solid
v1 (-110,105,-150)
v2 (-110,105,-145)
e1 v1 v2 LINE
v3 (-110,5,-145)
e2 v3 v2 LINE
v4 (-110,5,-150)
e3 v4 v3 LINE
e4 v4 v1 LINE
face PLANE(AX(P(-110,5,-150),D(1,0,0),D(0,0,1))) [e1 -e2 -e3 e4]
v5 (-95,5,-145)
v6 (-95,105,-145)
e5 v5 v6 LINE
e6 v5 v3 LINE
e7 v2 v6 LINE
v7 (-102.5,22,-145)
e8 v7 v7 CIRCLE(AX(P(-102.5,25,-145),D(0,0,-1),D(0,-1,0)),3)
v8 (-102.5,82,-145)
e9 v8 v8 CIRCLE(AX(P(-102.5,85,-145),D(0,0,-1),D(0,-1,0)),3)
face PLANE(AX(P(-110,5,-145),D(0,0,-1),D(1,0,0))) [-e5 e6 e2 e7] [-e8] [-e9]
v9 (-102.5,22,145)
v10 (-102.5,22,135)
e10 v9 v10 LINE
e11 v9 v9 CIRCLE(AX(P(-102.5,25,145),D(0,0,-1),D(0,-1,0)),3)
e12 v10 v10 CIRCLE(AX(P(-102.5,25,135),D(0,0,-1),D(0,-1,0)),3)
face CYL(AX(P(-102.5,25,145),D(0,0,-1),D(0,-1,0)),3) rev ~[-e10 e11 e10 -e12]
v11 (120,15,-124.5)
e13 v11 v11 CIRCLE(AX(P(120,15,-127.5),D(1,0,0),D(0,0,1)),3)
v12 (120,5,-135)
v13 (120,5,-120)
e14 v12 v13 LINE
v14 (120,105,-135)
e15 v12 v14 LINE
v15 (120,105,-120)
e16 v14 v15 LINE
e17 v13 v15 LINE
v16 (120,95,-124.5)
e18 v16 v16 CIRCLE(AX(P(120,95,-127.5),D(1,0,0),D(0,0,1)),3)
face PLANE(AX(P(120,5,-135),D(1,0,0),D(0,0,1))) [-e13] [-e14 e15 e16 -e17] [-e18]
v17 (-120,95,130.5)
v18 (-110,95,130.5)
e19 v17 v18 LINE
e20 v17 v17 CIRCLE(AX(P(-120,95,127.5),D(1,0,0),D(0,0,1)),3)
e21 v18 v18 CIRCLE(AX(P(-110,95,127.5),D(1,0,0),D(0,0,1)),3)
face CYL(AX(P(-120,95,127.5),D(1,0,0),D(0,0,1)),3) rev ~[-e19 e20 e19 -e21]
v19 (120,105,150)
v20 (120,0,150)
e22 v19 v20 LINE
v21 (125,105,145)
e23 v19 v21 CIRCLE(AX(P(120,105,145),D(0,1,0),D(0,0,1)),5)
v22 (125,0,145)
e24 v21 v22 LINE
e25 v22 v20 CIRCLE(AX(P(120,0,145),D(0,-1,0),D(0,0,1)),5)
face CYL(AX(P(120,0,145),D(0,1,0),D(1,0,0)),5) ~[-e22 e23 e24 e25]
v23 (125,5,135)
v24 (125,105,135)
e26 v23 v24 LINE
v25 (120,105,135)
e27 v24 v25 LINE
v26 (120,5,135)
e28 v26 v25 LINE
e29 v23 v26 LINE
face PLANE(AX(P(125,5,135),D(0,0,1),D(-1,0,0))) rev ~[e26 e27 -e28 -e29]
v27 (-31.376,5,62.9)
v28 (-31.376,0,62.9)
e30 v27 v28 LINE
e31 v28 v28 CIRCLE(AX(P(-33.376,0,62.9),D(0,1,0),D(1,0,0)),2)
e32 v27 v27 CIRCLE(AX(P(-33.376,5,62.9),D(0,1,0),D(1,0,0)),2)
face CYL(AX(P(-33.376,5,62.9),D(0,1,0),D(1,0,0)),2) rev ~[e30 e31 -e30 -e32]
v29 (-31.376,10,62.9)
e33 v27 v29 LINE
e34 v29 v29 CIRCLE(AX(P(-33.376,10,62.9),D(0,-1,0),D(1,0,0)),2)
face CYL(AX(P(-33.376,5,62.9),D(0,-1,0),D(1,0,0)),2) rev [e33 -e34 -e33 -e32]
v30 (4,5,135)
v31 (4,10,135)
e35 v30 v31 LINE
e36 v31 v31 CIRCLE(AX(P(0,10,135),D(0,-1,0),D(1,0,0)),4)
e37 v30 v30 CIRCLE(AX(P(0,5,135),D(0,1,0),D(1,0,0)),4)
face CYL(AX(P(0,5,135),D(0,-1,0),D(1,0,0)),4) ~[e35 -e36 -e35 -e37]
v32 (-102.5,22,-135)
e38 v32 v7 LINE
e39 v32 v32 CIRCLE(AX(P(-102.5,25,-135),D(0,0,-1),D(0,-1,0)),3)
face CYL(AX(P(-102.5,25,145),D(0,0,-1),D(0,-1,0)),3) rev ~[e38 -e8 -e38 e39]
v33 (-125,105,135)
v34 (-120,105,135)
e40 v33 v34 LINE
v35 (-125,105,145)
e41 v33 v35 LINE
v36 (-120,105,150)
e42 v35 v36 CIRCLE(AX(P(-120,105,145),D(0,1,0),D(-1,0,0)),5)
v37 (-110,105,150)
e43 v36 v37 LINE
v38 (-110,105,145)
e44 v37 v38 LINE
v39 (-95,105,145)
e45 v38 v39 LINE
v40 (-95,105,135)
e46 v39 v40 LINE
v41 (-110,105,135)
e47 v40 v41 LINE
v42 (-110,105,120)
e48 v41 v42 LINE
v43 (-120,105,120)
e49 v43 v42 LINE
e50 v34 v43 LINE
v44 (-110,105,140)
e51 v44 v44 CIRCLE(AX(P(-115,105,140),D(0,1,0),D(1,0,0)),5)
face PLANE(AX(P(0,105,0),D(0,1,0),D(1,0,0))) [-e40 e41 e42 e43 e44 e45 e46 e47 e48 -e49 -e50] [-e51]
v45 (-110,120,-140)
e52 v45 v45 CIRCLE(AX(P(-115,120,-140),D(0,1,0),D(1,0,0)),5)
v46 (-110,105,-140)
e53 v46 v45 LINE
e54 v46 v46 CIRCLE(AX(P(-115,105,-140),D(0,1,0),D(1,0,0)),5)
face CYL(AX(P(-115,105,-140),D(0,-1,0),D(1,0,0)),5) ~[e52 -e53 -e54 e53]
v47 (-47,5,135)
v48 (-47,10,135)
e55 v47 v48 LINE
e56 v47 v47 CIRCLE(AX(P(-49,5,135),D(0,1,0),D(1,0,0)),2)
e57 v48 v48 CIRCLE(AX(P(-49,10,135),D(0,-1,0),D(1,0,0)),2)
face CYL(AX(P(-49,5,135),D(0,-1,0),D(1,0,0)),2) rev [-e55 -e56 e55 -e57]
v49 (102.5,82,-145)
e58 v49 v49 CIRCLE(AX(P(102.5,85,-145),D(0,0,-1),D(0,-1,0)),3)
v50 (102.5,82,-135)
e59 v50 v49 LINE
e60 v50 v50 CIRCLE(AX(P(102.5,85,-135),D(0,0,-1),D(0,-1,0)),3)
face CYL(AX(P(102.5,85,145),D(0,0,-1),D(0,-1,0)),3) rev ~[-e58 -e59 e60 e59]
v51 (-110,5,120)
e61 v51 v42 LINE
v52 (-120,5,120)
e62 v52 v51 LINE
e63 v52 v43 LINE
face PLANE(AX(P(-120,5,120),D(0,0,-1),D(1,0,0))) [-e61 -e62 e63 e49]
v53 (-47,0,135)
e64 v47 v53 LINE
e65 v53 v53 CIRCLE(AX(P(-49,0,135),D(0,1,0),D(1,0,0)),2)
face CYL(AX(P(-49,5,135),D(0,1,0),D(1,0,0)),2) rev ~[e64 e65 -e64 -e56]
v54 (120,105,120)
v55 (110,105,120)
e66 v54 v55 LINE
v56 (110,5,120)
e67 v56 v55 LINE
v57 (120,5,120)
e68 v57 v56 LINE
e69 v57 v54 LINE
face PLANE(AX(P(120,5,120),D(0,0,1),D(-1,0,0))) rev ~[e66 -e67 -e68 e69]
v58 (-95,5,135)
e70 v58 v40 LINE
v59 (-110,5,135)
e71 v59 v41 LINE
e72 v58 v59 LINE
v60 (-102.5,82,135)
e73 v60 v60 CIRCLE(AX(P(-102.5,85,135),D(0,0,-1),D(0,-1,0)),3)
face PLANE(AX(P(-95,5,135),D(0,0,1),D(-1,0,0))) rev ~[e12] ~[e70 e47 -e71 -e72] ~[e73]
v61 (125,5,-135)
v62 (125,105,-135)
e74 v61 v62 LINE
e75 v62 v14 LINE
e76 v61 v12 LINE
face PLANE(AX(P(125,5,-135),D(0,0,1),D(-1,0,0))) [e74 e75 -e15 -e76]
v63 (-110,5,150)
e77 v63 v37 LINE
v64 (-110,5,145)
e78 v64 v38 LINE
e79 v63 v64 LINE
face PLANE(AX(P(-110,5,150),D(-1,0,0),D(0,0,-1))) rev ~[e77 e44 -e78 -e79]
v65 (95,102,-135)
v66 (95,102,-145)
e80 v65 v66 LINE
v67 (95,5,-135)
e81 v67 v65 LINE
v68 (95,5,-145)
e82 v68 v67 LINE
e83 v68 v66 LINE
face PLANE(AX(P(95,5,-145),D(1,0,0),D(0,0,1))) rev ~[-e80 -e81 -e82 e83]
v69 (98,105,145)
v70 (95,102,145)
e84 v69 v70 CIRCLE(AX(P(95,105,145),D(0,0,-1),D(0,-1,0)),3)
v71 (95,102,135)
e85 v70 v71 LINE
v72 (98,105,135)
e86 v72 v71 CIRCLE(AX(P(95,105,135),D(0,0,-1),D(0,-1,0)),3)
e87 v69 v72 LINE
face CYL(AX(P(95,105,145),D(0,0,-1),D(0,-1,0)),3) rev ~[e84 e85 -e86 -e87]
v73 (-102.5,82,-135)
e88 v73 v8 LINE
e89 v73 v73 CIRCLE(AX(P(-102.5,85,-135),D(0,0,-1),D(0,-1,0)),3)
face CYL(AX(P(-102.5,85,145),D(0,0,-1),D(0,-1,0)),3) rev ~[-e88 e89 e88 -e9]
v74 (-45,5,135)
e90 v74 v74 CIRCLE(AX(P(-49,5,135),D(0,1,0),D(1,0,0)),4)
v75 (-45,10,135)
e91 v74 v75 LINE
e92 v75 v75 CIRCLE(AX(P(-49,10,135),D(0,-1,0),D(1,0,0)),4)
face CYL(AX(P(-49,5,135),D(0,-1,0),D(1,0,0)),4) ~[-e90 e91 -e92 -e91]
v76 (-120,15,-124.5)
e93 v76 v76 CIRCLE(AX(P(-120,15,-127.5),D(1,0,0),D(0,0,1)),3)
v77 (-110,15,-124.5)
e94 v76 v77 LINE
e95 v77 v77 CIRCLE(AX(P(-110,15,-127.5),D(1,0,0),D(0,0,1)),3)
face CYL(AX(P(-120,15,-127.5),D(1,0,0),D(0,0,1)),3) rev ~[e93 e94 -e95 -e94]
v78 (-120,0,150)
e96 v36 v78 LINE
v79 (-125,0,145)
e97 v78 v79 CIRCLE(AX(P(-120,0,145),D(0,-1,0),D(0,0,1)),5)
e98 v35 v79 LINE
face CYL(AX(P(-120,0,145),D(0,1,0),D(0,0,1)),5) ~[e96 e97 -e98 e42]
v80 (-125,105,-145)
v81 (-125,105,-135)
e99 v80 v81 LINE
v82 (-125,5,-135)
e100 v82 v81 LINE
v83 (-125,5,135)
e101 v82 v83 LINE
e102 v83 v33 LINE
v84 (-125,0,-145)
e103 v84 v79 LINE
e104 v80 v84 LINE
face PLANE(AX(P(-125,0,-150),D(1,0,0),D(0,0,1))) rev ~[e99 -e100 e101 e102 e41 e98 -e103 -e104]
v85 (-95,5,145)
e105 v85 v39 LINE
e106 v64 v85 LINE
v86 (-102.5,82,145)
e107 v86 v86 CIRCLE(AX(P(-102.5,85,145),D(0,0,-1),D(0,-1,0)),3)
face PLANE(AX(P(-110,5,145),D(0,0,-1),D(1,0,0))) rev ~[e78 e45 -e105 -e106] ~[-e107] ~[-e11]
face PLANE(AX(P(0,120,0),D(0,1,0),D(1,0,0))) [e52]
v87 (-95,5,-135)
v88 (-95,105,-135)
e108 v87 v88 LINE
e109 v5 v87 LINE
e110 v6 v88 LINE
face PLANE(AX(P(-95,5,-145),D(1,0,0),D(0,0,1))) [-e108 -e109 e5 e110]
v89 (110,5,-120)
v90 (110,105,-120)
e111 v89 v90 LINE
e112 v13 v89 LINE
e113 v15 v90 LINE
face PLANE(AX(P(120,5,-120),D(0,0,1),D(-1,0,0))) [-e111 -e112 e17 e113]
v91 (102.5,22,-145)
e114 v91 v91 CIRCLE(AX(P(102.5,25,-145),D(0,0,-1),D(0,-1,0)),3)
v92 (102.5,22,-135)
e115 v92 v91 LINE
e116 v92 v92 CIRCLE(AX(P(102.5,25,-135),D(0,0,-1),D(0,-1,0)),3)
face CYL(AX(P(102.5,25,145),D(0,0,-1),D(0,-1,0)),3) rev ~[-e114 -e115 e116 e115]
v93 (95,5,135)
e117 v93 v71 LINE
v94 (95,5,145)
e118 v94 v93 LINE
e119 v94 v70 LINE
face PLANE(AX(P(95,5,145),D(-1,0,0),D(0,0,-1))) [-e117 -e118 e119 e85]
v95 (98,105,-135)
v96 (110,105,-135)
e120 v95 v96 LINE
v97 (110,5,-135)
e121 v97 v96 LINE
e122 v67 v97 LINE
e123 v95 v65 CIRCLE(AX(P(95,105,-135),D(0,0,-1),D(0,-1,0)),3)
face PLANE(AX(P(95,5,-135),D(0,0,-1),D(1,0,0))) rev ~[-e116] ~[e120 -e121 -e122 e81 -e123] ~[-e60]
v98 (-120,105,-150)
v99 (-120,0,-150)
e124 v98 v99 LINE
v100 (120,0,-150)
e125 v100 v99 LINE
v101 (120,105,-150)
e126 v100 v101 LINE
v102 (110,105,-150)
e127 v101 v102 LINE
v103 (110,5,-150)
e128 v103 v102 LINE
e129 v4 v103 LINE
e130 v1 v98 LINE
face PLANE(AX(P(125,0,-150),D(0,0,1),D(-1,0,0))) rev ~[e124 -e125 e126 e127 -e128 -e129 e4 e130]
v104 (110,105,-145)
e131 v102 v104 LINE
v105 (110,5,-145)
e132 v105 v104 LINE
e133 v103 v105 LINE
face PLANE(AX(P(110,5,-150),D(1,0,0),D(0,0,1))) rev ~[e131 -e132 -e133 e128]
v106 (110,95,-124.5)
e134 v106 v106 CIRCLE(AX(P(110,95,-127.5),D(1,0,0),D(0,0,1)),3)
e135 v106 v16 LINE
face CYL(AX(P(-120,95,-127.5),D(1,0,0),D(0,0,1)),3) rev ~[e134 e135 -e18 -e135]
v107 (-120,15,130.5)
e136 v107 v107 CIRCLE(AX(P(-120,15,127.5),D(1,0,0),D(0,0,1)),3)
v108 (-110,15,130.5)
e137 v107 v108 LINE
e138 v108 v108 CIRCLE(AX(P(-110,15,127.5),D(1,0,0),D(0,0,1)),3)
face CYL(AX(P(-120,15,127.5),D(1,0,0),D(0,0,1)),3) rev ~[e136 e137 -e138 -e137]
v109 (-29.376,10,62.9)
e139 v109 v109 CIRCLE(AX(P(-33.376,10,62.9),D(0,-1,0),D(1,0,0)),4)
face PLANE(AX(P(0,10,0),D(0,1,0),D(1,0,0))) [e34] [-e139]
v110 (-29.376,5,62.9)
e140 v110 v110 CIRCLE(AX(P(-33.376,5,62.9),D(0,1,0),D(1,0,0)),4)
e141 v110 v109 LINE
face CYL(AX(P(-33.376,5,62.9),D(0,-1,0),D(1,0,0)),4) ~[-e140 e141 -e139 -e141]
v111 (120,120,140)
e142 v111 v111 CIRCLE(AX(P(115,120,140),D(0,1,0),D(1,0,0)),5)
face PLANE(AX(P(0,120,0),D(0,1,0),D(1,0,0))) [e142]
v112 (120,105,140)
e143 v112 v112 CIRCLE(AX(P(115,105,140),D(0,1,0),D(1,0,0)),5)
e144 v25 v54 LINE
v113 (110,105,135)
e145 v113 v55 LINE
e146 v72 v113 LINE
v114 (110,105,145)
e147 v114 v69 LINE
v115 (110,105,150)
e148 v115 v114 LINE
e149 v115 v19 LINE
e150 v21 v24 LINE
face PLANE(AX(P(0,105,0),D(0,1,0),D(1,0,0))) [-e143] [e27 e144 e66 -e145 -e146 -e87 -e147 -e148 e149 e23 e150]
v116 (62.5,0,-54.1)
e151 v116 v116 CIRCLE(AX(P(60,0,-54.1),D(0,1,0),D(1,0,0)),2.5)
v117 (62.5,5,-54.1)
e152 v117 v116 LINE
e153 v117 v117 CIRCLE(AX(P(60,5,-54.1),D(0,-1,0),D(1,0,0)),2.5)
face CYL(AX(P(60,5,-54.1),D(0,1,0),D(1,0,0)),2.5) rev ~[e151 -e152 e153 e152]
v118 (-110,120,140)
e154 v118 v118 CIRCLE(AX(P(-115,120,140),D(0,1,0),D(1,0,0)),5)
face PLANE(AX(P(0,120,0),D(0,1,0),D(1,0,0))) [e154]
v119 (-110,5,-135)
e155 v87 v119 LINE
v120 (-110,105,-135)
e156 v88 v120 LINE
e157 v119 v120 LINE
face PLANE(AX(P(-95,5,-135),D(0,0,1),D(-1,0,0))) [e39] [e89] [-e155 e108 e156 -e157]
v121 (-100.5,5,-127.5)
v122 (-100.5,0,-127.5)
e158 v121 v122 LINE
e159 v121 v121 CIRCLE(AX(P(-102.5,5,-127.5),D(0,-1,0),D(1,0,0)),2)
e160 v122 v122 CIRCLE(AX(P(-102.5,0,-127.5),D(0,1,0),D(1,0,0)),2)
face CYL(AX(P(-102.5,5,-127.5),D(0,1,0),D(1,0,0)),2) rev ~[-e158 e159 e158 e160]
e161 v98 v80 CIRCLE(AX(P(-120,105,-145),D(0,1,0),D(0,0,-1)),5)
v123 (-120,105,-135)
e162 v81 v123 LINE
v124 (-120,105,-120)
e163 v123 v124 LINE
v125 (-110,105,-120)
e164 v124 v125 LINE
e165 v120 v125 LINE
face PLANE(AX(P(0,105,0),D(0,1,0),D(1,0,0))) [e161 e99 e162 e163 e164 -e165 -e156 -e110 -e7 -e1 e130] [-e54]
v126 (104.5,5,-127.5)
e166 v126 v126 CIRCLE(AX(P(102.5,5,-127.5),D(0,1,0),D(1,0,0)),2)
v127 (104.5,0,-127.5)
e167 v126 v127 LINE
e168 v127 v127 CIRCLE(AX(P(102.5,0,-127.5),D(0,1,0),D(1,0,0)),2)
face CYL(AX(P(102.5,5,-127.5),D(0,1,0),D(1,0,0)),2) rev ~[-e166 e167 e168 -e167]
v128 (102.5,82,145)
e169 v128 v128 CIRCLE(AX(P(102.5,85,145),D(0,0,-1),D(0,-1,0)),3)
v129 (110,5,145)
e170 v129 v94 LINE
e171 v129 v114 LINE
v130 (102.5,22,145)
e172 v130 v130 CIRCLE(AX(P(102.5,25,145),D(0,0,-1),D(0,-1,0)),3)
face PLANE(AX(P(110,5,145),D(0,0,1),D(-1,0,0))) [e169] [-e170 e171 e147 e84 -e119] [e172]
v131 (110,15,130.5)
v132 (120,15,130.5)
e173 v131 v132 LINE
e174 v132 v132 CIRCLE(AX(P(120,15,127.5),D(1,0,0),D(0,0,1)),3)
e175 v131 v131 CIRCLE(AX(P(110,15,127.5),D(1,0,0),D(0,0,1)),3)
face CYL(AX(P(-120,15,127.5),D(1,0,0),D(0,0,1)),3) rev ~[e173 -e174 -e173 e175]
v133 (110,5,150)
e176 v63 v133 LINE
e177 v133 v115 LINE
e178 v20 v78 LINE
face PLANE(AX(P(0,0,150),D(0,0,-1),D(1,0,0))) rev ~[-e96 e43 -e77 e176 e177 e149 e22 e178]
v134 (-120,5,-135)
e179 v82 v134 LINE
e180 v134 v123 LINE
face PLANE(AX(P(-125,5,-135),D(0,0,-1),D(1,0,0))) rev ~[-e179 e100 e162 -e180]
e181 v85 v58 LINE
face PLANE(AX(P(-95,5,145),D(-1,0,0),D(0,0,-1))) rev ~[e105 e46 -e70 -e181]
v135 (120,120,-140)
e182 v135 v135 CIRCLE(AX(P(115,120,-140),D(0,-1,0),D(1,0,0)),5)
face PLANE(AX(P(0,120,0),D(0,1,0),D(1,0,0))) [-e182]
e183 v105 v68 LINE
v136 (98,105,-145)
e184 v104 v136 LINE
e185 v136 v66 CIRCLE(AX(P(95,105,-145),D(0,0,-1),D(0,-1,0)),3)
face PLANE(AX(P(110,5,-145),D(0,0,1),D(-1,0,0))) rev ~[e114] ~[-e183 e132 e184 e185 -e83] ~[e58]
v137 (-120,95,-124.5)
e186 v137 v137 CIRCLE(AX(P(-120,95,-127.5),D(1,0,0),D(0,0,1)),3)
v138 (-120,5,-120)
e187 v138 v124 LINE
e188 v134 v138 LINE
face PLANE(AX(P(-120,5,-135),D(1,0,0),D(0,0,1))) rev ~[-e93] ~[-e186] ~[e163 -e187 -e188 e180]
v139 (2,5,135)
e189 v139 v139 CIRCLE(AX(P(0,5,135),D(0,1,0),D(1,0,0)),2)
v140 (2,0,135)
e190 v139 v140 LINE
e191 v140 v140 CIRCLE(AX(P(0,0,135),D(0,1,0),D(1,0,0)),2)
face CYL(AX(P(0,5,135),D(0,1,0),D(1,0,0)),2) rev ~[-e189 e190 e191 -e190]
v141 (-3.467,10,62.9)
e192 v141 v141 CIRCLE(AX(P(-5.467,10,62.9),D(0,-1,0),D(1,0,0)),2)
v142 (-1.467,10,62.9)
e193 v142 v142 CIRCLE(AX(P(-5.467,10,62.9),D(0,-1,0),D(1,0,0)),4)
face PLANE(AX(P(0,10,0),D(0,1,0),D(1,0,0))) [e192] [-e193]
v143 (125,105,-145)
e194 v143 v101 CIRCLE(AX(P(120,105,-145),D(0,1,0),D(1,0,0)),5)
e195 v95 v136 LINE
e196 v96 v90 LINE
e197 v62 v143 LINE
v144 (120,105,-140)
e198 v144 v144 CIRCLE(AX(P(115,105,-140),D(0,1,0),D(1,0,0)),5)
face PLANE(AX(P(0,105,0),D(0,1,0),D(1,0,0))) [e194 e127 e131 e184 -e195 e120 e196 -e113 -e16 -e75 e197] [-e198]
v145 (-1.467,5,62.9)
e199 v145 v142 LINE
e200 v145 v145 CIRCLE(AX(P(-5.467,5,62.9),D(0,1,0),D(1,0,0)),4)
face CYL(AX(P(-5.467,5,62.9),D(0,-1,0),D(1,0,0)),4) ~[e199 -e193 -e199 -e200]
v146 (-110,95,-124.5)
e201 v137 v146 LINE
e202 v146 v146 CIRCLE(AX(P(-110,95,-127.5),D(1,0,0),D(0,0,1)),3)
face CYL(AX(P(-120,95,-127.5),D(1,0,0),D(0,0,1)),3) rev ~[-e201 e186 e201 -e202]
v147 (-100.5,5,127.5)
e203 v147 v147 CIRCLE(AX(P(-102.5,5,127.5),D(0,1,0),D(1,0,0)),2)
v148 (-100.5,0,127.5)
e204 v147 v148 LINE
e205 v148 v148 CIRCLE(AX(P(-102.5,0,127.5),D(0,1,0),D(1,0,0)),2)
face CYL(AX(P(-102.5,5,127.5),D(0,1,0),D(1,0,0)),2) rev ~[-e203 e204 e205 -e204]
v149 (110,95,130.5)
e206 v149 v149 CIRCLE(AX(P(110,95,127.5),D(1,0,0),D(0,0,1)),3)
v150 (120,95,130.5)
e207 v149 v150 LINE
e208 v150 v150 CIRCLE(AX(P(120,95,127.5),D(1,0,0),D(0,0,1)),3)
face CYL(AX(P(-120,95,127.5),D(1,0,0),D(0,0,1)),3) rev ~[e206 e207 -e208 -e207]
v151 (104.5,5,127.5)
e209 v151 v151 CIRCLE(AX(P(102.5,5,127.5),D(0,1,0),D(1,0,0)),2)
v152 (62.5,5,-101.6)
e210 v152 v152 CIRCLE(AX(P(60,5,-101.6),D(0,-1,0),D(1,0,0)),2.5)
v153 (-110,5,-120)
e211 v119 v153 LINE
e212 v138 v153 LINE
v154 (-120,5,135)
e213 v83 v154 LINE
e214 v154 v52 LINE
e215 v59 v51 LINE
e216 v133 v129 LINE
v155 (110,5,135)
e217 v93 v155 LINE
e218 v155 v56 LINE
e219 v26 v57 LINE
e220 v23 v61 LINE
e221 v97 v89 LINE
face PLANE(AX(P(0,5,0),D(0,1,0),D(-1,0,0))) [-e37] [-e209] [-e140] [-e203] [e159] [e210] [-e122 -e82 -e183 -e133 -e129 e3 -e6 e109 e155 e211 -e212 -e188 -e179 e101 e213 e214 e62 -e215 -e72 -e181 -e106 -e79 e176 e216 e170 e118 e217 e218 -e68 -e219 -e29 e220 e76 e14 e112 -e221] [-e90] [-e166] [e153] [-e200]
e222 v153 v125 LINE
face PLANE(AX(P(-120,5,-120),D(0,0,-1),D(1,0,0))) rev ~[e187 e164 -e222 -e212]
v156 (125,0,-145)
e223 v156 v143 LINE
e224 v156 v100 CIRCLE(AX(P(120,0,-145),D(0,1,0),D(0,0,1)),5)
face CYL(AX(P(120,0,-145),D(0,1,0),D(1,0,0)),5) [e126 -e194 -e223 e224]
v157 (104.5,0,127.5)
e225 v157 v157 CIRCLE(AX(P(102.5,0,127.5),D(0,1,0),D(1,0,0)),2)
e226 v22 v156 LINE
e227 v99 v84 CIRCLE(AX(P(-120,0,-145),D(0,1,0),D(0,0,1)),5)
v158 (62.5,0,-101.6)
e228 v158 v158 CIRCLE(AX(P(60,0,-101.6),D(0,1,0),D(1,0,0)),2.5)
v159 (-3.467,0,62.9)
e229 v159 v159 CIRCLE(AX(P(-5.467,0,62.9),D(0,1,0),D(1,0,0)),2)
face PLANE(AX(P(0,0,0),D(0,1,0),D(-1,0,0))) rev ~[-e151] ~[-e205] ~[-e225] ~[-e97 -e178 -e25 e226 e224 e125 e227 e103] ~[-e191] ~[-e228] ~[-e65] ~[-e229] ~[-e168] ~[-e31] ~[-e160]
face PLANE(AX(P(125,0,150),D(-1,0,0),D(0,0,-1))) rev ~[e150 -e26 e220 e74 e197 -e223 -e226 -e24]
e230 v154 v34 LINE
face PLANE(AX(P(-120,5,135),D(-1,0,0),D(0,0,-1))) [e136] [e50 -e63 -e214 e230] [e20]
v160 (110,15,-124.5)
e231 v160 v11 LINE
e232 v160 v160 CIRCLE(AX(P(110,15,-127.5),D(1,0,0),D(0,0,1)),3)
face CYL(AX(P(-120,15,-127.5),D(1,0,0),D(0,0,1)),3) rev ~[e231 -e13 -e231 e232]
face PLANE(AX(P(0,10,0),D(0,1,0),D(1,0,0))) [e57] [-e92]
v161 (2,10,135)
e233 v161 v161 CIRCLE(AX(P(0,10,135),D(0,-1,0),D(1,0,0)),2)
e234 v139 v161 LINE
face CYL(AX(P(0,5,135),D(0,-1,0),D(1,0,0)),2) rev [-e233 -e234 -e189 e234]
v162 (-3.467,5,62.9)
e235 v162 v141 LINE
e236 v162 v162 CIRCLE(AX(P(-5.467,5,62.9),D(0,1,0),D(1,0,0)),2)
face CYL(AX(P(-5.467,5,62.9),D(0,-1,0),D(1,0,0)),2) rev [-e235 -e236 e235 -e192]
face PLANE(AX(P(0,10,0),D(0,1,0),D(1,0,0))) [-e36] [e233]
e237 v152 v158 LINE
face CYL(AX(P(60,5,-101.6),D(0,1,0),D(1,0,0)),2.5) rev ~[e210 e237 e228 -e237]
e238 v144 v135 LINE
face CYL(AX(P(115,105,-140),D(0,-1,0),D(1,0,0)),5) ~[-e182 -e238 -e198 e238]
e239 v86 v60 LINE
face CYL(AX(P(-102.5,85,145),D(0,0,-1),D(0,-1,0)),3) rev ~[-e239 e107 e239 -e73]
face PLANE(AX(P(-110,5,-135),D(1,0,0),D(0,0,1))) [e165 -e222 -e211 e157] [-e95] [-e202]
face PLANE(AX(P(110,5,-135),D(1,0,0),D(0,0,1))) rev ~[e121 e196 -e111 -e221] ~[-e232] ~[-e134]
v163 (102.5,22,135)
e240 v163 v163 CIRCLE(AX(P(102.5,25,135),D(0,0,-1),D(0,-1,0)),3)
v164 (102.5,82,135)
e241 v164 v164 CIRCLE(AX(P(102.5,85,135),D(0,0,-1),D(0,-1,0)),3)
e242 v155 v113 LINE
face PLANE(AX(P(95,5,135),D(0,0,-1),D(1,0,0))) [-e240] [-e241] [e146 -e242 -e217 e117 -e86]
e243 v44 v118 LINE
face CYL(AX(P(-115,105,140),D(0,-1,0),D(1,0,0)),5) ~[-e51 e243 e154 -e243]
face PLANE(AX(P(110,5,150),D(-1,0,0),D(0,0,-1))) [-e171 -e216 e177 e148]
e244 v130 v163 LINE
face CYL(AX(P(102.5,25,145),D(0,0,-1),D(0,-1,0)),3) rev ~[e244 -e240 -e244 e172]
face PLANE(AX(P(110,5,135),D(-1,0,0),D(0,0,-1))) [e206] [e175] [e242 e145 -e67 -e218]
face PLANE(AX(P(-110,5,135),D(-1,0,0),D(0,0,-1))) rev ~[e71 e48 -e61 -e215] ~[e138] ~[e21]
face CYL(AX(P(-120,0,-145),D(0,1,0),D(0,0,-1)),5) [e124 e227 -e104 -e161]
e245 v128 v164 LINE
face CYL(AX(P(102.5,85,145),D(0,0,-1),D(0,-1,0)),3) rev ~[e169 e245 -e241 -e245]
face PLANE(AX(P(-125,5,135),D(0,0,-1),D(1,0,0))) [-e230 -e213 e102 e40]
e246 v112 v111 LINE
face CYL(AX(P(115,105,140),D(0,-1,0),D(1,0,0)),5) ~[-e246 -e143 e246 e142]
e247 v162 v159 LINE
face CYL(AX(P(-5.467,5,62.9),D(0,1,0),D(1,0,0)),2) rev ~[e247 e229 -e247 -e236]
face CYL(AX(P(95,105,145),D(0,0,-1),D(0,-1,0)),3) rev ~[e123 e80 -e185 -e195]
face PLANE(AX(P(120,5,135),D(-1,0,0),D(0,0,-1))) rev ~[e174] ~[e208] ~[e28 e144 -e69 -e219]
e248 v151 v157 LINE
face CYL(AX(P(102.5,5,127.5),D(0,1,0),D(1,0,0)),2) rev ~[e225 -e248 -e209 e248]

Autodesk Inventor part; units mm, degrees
ref_plane "YZ Plane" through (0, 0, 0) normal (1, 0, 0) x (0, 1, 0)
ref_plane "XZ Plane" through (0, 0, 0) normal (0, 1, 0) x (-1, 0, 0)
ref_plane "XY Plane" through (0, 0, 0) normal (0, 0, 1) x (1, 0, 0)
sketch "Sketch1" plane through (0, 0, 0) normal (0, 1, 0) x (-1, 0, 0)
  line L0 (0, 0) -> (0, 150)
  line L1 (0, 150) -> (0, -150)
  line L2 (0, -150) -> (125, -150)
  line L3 (125, -150) -> (125, 150)
  line L4 (125, 150) -> (-125, 150)
  line L5 (-125, 150) -> (-125, -150)
  line L6 (-125, -150) -> (0, -150)
  dimension "d0" = 150
  dimension "d1" = 300
  dimension "d2" = 125
  dimension "d3" = 300
  dimension "d4" = 250
  dimension "d5" = 300
extrude "Extrusion1" add sketch "Sketch1" along normal blind 5
fillet "Fillet1" radius 5 1 edges at (125, 2.5, 150)
fillet "Fillet2" radius 5 3 edges at (125, 2.5, -150) (-125, 2.5, -150) (-125, 2.5, 150)
sketch "Sketch2" plane through (0, 5, 0) normal (0, 1, 0) x (1, 0, 0)
  line L0 (120, 150) -> (-120, 150) projected
  line L1 (-120, 150) -> (-110, 150)
  line L2 (-110, 150) -> (-110, 145)
  line L3 (-110, 145) -> (-101.6, 145)
  arc A0 (-120, 150) -> (-125, 145) centre (-120, 145) ccw projected
  line L4 (-125, 145) -> (-125, 135)
  line L5 (-125, 145) -> (-125, -145) projected
  line L6 (-125, 135) -> (-120, 135)
  line L7 (-120, 135) -> (-120, 120)
  line L8 (-110, 145) -> (-95, 145)
  arc A1 (-120, 150) -> (-125, 145) centre (-120, 145) ccw
  line L9 (125, -145) -> (125, 145) projected
  line L10 (125, 0) -> (-125, 0)
  line L11 (0, 150) -> (0, -150)
  line L12 (-120, -150) -> (120, -150) projected
  line L13 (-95, 145) -> (-95, 135)
  line L14 (-120, 120) -> (-110, 120)
  line L15 (-95, 135) -> (-110, 135)
  line L16 (-110, 135) -> (-110, 120)
  line L17 (-120, -150) -> (-110, -150)
  line L18 (-110, -150) -> (-110, -145)
  line L19 (-125, -145) -> (-125, -135)
  line L20 (-125, -135) -> (-120, -135)
  line L21 (-120, -135) -> (-120, -120)
  line L22 (-110, -145) -> (-95, -145)
  arc A2 (-125, -145) -> (-120, -150) centre (-120, -145) ccw
  line L23 (-95, -145) -> (-95, -135)
  line L24 (-120, -120) -> (-110, -120)
  line L25 (-95, -135) -> (-110, -135)
  line L26 (-110, -135) -> (-110, -120)
  line L27 (-120, 150) -> (120, 150)
  line L28 (110, 150) -> (110, 145)
  line L29 (125, 145) -> (125, -145)
  line L30 (125, 135) -> (120, 135)
  line L31 (120, 135) -> (120, 120)
  line L32 (110, 145) -> (95, 145)
  arc A3 (125, 145) -> (120, 150) centre (120, 145) ccw
  line L33 (120, -150) -> (-120, -150)
  line L34 (95, 145) -> (95, 135)
  line L35 (120, 120) -> (110, 120)
  line L36 (95, 135) -> (110, 135)
  line L37 (110, 135) -> (110, 120)
  line L38 (95, -135) -> (110, -135)
  line L39 (95, -145) -> (95, -135)
  line L40 (110, -150) -> (110, -145)
  line L41 (120, -150) -> (110, -150)
  arc A4 (120, -150) -> (125, -145) centre (120, -145) ccw
  line L42 (125, -135) -> (120, -135)
  line L43 (120, -135) -> (120, -120)
  line L44 (120, -120) -> (110, -120)
  line L45 (110, -135) -> (110, -120)
  line L46 (110, -145) -> (95, -145)
  point P0 (0, 0)
  point P1 (-101.6, -145)
  dimension "d10" = 10
  dimension "d11" = 5
  dimension "d12" = 10
  dimension "d13" = 5
  dimension "d14" = 15
  dimension "d15" = 15
  dimension "d17" = 10
  dimension "d18" = 10
extrude "Extrusion2" add sketch "Sketch2" along normal blind 100 contours A3 L9 L30 L31 L35 L37 L36 L34 L32 L28 L0 | L2 L3 L8 L13 L15 L16 L14 L7 L6 L4 A0 L0 | L9 A4 L12 L40 L46 L39 L38 L45 L44 L43 L42 | L20 L21 L24 L26 L25 L23 L22 L18 L12 A2 L5
sketch "Sketch3" plane through (0, 105, 0) normal (0, 1, 0) x (1, 0, 0)
  line L0 (120, 150) -> (-120, 150) projected
  line L1 (0, 150) -> (0, -150)
  line L2 (-120, -150) -> (120, -150) projected
  line L3 (0, 0) -> (125, 0)
  line L4 (125, -135) -> (125, 135) projected
  line L5 (0, 0) -> (-125, 0)
  line L6 (-125, 135) -> (-125, -135) projected
  line L7 (95, 145) -> (95, 135) projected
  line L8 (95, 145) -> (95, 140)
  line L9 (95, 140) -> (125, 140)
  line L10 (110, 120) -> (120, 120) projected
  line L11 (120, 120) -> (115, 120)
  line L12 (115, 120) -> (115, 140)
  circle A0 centre (115, 140) radius 5
  circle A1 centre (115, -140) radius 5
  circle A2 centre (-115, 140) radius 5
  circle A3 centre (-115, -140) radius 5
extrude "Extrusion3" add sketch "Sketch3" along normal blind 15
sketch "Sketch4" plane through (-120, 5, -135) normal (-1, 0, 0) x (0, 0, 1)
  line L0 (15, 100) -> (0, 100) projected
  line L1 (0, 100) -> (7.5, 100)
  line L2 (7.5, 100) -> (7.5, 90)
  line L3 (7.5, 90) -> (7.5, 10)
  point P0 (135, -5)
  dimension "d23" = 7.5
  dimension "d24" = 10
  dimension "d25" = 80
hole "Hole1" at (-120, 95, -127.5) at (-120, 15, -127.5) direction (1, 0, 0) diameter 6 end through all
sketch "Sketch5" plane through (-120, 5, 120) normal (-1, 0, 0) x (0, 0, 1)
  line L0 (15, 100) -> (0, 100) projected
  line L1 (0, 100) -> (7.5, 100)
  line L2 (7.5, 100) -> (7.5, 90)
  line L3 (7.5, 90) -> (7.5, 10)
  point P0 (-120, -5)
  dimension "d35" = 10
  dimension "d36" = 80
hole "Hole2" at (-120, 95, 127.5) at (-120, 15, 127.5) direction (1, 0, 0) diameter 6 end through all
sketch "Sketch6" plane through (-110, 5, 145) normal (0, 0, 1) x (1, 0, 0)
  line L0 (0, 0) -> (0, 100) projected
  line L1 (0, 100) -> (7.5, 100)
  line L2 (15, 100) -> (0, 100) projected
  line L3 (7.5, 100) -> (7.5, 80)
  line L4 (7.5, 80) -> (7.5, 20)
  line L5 (220, 0) -> (220, 100) projected
  line L6 (220, 100) -> (212.5, 100)
  line L7 (205, 100) -> (220, 100) projected
  line L8 (212.5, 100) -> (212.5, 80)
  line L9 (212.5, 80) -> (212.5, 20)
  point P0 (110, -5)
  dimension "d44" = 20
  dimension "d45" = 60
hole "Hole3" at (-102.5, 85, 145) at (-102.5, 25, 145) direction (0, 0, -1) diameter 6 end through all
sketch "Sketch7" plane through (95, 5, 145) normal (0, 0, 1) x (1, 0, 0)
  line L0 (0, 100) -> (7.5, 100)
  line L1 (0, 100) -> (15, 100) projected
  line L2 (7.5, 100) -> (7.5, 80)
  line L3 (7.5, 80) -> (7.5, 20)
  point P0 (-95, -5)
  dimension "d53" = 20
  dimension "d54" = 60
hole "Hole4" at (95, 105, 145) at (102.5, 85, 145) at (102.5, 25, 145) direction (0, 0, -1) diameter 6 end through all
sketch "Sketch8" plane through (0, 5, 0) normal (0, 1, 0) x (1, 0, 0)
  line L0 (-120, -150) -> (120, -150) projected
  line L1 (0, -150) -> (0, -135)
  line L2 (0, -135) -> (80.9625, -135)
  line L3 (80.9625, -135) -> (-82.55, -135)
  line L4 (0, -135) -> (-49, -135)
  line L5 (-49, -135) -> (-49, -62.9)
  line L6 (0, -135) -> (0, -62.9)
  line L7 (-49, -62.9) -> (-33.376, -62.9)
  line L8 (-33.376, -62.9) -> (-5.467, -62.9)
  line L9 (-5.467, -62.9) -> (0, -62.9)
  circle A0 centre (0, -135) radius 2
  circle A1 centre (-49, -135) radius 2
  circle A2 centre (-5.467, -62.9) radius 2
  circle A3 centre (-33.376, -62.9) radius 2
  circle A4 centre (-5.467, -62.9) radius 4
  circle A5 centre (-33.376, -62.9) radius 4
  circle A6 centre (-49, -135) radius 4
  circle A7 centre (0, -135) radius 4
  point P0 (0, 0)
  dimension "d62" = 15
  dimension "d63" = 49
  dimension "d64" = 72.1
  dimension "d67" = 15.624
  dimension "d68" = 27.909
  dimension "d69" = 4
  dimension "d70" = 4
  dimension "d71" = 4
  dimension "d72" = 4
  dimension "d73" = 8
  dimension "d74" = 8
  dimension "d75" = 8
  dimension "d76" = 8
extrude "Extrusion4" add sketch "Sketch8" along normal blind 5 contours A7 L3 A0 L1 | L1 A0 L2 A7 | A7 L6 A0 L3 | L2 A0 L6 A7 | A6 L3 A1 | L3 A1 L5 A6 | L5 A1 L3 A6 | A4 L8 A2 L9 | L9 A2 L8 A4 | A5 L8 A3 L7 | L7 A3 L8 A5
sketch "Sketch9" plane through (-5.467, 5, 62.9) normal (0, 1, 0) x (1, 0, 0)
  circle A0 centre (0, 0) radius 2 projected
  circle A1 centre (0, 0) radius 2
  circle A2 centre (5.467, -72.1) radius 4 projected
  circle A3 centre (5.467, -72.1) radius 2
  circle A4 centre (-43.533, -72.1) radius 2 projected
  circle A5 centre (-43.533, -72.1) radius 2
  circle A6 centre (-27.909, 0) radius 2 projected
  circle A7 centre (-27.909, 0) radius 2
  point P0 (5.467, 62.9)
  dimension "d79" = 4
  dimension "d80" = 4
  dimension "d81" = 4
  dimension "d82" = 4
extrude "Extrusion5" cut sketch "Sketch9" against normal blind 10 contours A0 | A3 | A4 | A6
sketch "Sketch10" plane through (0, 5, 0) normal (0, 1, 0) x (1, 0, 0)
  line L0 (0, 0) -> (0, 101.6)
  line L1 (0, 101.6) -> (60, 101.6)
  line L2 (60, 101.6) -> (60, 54.1)
  circle A0 centre (60, 101.6) radius 2.5
  circle A1 centre (60, 54.1) radius 2.5
  dimension "d85" = 60
  dimension "d86" = 47.5
  dimension "d87" = 5
  dimension "d88" = 5
extrude "Extrusion6" cut sketch "Sketch10" against normal blind 10
sketch "Sketch11" plane through (0, 5, 0) normal (0, 1, 0) x (1, 0, 0)
  line L0 (-110, 120) -> (-110, 135) projected
  line L1 (-110, 135) -> (-110, 127.5)
  line L2 (-110, 135) -> (-95, 135) projected
  line L3 (-95, 135) -> (-95, 127.5)
  line L4 (-95, 127.5) -> (-110, 127.5)
  line L5 (-95, 127.5) -> (-102.5, 127.5)
  line L6 (125, -135) -> (125, 135) projected
  line L7 (125, 0) -> (-125, 0)
  line L8 (-125, 135) -> (-125, -135) projected
  line L9 (110, 150) -> (-110, 150) projected
  line L10 (0, 150) -> (0, -150)
  line L11 (-120, -150) -> (120, -150) projected
  circle A0 centre (-102.5, 127.5) radius 2
  circle A1 centre (-102.5, -127.5) radius 2
  circle A2 centre (102.5, 127.5) radius 2
  circle A3 centre (102.5, -127.5) radius 2
  point P0 (0, 0)
  dimension "d91" = 4
extrude "Extrusion7" cut sketch "Sketch11" against normal blind 15 contours A0 L4 | L4 A0 | A1 | A2 | A3
properties part number "Bottom"
